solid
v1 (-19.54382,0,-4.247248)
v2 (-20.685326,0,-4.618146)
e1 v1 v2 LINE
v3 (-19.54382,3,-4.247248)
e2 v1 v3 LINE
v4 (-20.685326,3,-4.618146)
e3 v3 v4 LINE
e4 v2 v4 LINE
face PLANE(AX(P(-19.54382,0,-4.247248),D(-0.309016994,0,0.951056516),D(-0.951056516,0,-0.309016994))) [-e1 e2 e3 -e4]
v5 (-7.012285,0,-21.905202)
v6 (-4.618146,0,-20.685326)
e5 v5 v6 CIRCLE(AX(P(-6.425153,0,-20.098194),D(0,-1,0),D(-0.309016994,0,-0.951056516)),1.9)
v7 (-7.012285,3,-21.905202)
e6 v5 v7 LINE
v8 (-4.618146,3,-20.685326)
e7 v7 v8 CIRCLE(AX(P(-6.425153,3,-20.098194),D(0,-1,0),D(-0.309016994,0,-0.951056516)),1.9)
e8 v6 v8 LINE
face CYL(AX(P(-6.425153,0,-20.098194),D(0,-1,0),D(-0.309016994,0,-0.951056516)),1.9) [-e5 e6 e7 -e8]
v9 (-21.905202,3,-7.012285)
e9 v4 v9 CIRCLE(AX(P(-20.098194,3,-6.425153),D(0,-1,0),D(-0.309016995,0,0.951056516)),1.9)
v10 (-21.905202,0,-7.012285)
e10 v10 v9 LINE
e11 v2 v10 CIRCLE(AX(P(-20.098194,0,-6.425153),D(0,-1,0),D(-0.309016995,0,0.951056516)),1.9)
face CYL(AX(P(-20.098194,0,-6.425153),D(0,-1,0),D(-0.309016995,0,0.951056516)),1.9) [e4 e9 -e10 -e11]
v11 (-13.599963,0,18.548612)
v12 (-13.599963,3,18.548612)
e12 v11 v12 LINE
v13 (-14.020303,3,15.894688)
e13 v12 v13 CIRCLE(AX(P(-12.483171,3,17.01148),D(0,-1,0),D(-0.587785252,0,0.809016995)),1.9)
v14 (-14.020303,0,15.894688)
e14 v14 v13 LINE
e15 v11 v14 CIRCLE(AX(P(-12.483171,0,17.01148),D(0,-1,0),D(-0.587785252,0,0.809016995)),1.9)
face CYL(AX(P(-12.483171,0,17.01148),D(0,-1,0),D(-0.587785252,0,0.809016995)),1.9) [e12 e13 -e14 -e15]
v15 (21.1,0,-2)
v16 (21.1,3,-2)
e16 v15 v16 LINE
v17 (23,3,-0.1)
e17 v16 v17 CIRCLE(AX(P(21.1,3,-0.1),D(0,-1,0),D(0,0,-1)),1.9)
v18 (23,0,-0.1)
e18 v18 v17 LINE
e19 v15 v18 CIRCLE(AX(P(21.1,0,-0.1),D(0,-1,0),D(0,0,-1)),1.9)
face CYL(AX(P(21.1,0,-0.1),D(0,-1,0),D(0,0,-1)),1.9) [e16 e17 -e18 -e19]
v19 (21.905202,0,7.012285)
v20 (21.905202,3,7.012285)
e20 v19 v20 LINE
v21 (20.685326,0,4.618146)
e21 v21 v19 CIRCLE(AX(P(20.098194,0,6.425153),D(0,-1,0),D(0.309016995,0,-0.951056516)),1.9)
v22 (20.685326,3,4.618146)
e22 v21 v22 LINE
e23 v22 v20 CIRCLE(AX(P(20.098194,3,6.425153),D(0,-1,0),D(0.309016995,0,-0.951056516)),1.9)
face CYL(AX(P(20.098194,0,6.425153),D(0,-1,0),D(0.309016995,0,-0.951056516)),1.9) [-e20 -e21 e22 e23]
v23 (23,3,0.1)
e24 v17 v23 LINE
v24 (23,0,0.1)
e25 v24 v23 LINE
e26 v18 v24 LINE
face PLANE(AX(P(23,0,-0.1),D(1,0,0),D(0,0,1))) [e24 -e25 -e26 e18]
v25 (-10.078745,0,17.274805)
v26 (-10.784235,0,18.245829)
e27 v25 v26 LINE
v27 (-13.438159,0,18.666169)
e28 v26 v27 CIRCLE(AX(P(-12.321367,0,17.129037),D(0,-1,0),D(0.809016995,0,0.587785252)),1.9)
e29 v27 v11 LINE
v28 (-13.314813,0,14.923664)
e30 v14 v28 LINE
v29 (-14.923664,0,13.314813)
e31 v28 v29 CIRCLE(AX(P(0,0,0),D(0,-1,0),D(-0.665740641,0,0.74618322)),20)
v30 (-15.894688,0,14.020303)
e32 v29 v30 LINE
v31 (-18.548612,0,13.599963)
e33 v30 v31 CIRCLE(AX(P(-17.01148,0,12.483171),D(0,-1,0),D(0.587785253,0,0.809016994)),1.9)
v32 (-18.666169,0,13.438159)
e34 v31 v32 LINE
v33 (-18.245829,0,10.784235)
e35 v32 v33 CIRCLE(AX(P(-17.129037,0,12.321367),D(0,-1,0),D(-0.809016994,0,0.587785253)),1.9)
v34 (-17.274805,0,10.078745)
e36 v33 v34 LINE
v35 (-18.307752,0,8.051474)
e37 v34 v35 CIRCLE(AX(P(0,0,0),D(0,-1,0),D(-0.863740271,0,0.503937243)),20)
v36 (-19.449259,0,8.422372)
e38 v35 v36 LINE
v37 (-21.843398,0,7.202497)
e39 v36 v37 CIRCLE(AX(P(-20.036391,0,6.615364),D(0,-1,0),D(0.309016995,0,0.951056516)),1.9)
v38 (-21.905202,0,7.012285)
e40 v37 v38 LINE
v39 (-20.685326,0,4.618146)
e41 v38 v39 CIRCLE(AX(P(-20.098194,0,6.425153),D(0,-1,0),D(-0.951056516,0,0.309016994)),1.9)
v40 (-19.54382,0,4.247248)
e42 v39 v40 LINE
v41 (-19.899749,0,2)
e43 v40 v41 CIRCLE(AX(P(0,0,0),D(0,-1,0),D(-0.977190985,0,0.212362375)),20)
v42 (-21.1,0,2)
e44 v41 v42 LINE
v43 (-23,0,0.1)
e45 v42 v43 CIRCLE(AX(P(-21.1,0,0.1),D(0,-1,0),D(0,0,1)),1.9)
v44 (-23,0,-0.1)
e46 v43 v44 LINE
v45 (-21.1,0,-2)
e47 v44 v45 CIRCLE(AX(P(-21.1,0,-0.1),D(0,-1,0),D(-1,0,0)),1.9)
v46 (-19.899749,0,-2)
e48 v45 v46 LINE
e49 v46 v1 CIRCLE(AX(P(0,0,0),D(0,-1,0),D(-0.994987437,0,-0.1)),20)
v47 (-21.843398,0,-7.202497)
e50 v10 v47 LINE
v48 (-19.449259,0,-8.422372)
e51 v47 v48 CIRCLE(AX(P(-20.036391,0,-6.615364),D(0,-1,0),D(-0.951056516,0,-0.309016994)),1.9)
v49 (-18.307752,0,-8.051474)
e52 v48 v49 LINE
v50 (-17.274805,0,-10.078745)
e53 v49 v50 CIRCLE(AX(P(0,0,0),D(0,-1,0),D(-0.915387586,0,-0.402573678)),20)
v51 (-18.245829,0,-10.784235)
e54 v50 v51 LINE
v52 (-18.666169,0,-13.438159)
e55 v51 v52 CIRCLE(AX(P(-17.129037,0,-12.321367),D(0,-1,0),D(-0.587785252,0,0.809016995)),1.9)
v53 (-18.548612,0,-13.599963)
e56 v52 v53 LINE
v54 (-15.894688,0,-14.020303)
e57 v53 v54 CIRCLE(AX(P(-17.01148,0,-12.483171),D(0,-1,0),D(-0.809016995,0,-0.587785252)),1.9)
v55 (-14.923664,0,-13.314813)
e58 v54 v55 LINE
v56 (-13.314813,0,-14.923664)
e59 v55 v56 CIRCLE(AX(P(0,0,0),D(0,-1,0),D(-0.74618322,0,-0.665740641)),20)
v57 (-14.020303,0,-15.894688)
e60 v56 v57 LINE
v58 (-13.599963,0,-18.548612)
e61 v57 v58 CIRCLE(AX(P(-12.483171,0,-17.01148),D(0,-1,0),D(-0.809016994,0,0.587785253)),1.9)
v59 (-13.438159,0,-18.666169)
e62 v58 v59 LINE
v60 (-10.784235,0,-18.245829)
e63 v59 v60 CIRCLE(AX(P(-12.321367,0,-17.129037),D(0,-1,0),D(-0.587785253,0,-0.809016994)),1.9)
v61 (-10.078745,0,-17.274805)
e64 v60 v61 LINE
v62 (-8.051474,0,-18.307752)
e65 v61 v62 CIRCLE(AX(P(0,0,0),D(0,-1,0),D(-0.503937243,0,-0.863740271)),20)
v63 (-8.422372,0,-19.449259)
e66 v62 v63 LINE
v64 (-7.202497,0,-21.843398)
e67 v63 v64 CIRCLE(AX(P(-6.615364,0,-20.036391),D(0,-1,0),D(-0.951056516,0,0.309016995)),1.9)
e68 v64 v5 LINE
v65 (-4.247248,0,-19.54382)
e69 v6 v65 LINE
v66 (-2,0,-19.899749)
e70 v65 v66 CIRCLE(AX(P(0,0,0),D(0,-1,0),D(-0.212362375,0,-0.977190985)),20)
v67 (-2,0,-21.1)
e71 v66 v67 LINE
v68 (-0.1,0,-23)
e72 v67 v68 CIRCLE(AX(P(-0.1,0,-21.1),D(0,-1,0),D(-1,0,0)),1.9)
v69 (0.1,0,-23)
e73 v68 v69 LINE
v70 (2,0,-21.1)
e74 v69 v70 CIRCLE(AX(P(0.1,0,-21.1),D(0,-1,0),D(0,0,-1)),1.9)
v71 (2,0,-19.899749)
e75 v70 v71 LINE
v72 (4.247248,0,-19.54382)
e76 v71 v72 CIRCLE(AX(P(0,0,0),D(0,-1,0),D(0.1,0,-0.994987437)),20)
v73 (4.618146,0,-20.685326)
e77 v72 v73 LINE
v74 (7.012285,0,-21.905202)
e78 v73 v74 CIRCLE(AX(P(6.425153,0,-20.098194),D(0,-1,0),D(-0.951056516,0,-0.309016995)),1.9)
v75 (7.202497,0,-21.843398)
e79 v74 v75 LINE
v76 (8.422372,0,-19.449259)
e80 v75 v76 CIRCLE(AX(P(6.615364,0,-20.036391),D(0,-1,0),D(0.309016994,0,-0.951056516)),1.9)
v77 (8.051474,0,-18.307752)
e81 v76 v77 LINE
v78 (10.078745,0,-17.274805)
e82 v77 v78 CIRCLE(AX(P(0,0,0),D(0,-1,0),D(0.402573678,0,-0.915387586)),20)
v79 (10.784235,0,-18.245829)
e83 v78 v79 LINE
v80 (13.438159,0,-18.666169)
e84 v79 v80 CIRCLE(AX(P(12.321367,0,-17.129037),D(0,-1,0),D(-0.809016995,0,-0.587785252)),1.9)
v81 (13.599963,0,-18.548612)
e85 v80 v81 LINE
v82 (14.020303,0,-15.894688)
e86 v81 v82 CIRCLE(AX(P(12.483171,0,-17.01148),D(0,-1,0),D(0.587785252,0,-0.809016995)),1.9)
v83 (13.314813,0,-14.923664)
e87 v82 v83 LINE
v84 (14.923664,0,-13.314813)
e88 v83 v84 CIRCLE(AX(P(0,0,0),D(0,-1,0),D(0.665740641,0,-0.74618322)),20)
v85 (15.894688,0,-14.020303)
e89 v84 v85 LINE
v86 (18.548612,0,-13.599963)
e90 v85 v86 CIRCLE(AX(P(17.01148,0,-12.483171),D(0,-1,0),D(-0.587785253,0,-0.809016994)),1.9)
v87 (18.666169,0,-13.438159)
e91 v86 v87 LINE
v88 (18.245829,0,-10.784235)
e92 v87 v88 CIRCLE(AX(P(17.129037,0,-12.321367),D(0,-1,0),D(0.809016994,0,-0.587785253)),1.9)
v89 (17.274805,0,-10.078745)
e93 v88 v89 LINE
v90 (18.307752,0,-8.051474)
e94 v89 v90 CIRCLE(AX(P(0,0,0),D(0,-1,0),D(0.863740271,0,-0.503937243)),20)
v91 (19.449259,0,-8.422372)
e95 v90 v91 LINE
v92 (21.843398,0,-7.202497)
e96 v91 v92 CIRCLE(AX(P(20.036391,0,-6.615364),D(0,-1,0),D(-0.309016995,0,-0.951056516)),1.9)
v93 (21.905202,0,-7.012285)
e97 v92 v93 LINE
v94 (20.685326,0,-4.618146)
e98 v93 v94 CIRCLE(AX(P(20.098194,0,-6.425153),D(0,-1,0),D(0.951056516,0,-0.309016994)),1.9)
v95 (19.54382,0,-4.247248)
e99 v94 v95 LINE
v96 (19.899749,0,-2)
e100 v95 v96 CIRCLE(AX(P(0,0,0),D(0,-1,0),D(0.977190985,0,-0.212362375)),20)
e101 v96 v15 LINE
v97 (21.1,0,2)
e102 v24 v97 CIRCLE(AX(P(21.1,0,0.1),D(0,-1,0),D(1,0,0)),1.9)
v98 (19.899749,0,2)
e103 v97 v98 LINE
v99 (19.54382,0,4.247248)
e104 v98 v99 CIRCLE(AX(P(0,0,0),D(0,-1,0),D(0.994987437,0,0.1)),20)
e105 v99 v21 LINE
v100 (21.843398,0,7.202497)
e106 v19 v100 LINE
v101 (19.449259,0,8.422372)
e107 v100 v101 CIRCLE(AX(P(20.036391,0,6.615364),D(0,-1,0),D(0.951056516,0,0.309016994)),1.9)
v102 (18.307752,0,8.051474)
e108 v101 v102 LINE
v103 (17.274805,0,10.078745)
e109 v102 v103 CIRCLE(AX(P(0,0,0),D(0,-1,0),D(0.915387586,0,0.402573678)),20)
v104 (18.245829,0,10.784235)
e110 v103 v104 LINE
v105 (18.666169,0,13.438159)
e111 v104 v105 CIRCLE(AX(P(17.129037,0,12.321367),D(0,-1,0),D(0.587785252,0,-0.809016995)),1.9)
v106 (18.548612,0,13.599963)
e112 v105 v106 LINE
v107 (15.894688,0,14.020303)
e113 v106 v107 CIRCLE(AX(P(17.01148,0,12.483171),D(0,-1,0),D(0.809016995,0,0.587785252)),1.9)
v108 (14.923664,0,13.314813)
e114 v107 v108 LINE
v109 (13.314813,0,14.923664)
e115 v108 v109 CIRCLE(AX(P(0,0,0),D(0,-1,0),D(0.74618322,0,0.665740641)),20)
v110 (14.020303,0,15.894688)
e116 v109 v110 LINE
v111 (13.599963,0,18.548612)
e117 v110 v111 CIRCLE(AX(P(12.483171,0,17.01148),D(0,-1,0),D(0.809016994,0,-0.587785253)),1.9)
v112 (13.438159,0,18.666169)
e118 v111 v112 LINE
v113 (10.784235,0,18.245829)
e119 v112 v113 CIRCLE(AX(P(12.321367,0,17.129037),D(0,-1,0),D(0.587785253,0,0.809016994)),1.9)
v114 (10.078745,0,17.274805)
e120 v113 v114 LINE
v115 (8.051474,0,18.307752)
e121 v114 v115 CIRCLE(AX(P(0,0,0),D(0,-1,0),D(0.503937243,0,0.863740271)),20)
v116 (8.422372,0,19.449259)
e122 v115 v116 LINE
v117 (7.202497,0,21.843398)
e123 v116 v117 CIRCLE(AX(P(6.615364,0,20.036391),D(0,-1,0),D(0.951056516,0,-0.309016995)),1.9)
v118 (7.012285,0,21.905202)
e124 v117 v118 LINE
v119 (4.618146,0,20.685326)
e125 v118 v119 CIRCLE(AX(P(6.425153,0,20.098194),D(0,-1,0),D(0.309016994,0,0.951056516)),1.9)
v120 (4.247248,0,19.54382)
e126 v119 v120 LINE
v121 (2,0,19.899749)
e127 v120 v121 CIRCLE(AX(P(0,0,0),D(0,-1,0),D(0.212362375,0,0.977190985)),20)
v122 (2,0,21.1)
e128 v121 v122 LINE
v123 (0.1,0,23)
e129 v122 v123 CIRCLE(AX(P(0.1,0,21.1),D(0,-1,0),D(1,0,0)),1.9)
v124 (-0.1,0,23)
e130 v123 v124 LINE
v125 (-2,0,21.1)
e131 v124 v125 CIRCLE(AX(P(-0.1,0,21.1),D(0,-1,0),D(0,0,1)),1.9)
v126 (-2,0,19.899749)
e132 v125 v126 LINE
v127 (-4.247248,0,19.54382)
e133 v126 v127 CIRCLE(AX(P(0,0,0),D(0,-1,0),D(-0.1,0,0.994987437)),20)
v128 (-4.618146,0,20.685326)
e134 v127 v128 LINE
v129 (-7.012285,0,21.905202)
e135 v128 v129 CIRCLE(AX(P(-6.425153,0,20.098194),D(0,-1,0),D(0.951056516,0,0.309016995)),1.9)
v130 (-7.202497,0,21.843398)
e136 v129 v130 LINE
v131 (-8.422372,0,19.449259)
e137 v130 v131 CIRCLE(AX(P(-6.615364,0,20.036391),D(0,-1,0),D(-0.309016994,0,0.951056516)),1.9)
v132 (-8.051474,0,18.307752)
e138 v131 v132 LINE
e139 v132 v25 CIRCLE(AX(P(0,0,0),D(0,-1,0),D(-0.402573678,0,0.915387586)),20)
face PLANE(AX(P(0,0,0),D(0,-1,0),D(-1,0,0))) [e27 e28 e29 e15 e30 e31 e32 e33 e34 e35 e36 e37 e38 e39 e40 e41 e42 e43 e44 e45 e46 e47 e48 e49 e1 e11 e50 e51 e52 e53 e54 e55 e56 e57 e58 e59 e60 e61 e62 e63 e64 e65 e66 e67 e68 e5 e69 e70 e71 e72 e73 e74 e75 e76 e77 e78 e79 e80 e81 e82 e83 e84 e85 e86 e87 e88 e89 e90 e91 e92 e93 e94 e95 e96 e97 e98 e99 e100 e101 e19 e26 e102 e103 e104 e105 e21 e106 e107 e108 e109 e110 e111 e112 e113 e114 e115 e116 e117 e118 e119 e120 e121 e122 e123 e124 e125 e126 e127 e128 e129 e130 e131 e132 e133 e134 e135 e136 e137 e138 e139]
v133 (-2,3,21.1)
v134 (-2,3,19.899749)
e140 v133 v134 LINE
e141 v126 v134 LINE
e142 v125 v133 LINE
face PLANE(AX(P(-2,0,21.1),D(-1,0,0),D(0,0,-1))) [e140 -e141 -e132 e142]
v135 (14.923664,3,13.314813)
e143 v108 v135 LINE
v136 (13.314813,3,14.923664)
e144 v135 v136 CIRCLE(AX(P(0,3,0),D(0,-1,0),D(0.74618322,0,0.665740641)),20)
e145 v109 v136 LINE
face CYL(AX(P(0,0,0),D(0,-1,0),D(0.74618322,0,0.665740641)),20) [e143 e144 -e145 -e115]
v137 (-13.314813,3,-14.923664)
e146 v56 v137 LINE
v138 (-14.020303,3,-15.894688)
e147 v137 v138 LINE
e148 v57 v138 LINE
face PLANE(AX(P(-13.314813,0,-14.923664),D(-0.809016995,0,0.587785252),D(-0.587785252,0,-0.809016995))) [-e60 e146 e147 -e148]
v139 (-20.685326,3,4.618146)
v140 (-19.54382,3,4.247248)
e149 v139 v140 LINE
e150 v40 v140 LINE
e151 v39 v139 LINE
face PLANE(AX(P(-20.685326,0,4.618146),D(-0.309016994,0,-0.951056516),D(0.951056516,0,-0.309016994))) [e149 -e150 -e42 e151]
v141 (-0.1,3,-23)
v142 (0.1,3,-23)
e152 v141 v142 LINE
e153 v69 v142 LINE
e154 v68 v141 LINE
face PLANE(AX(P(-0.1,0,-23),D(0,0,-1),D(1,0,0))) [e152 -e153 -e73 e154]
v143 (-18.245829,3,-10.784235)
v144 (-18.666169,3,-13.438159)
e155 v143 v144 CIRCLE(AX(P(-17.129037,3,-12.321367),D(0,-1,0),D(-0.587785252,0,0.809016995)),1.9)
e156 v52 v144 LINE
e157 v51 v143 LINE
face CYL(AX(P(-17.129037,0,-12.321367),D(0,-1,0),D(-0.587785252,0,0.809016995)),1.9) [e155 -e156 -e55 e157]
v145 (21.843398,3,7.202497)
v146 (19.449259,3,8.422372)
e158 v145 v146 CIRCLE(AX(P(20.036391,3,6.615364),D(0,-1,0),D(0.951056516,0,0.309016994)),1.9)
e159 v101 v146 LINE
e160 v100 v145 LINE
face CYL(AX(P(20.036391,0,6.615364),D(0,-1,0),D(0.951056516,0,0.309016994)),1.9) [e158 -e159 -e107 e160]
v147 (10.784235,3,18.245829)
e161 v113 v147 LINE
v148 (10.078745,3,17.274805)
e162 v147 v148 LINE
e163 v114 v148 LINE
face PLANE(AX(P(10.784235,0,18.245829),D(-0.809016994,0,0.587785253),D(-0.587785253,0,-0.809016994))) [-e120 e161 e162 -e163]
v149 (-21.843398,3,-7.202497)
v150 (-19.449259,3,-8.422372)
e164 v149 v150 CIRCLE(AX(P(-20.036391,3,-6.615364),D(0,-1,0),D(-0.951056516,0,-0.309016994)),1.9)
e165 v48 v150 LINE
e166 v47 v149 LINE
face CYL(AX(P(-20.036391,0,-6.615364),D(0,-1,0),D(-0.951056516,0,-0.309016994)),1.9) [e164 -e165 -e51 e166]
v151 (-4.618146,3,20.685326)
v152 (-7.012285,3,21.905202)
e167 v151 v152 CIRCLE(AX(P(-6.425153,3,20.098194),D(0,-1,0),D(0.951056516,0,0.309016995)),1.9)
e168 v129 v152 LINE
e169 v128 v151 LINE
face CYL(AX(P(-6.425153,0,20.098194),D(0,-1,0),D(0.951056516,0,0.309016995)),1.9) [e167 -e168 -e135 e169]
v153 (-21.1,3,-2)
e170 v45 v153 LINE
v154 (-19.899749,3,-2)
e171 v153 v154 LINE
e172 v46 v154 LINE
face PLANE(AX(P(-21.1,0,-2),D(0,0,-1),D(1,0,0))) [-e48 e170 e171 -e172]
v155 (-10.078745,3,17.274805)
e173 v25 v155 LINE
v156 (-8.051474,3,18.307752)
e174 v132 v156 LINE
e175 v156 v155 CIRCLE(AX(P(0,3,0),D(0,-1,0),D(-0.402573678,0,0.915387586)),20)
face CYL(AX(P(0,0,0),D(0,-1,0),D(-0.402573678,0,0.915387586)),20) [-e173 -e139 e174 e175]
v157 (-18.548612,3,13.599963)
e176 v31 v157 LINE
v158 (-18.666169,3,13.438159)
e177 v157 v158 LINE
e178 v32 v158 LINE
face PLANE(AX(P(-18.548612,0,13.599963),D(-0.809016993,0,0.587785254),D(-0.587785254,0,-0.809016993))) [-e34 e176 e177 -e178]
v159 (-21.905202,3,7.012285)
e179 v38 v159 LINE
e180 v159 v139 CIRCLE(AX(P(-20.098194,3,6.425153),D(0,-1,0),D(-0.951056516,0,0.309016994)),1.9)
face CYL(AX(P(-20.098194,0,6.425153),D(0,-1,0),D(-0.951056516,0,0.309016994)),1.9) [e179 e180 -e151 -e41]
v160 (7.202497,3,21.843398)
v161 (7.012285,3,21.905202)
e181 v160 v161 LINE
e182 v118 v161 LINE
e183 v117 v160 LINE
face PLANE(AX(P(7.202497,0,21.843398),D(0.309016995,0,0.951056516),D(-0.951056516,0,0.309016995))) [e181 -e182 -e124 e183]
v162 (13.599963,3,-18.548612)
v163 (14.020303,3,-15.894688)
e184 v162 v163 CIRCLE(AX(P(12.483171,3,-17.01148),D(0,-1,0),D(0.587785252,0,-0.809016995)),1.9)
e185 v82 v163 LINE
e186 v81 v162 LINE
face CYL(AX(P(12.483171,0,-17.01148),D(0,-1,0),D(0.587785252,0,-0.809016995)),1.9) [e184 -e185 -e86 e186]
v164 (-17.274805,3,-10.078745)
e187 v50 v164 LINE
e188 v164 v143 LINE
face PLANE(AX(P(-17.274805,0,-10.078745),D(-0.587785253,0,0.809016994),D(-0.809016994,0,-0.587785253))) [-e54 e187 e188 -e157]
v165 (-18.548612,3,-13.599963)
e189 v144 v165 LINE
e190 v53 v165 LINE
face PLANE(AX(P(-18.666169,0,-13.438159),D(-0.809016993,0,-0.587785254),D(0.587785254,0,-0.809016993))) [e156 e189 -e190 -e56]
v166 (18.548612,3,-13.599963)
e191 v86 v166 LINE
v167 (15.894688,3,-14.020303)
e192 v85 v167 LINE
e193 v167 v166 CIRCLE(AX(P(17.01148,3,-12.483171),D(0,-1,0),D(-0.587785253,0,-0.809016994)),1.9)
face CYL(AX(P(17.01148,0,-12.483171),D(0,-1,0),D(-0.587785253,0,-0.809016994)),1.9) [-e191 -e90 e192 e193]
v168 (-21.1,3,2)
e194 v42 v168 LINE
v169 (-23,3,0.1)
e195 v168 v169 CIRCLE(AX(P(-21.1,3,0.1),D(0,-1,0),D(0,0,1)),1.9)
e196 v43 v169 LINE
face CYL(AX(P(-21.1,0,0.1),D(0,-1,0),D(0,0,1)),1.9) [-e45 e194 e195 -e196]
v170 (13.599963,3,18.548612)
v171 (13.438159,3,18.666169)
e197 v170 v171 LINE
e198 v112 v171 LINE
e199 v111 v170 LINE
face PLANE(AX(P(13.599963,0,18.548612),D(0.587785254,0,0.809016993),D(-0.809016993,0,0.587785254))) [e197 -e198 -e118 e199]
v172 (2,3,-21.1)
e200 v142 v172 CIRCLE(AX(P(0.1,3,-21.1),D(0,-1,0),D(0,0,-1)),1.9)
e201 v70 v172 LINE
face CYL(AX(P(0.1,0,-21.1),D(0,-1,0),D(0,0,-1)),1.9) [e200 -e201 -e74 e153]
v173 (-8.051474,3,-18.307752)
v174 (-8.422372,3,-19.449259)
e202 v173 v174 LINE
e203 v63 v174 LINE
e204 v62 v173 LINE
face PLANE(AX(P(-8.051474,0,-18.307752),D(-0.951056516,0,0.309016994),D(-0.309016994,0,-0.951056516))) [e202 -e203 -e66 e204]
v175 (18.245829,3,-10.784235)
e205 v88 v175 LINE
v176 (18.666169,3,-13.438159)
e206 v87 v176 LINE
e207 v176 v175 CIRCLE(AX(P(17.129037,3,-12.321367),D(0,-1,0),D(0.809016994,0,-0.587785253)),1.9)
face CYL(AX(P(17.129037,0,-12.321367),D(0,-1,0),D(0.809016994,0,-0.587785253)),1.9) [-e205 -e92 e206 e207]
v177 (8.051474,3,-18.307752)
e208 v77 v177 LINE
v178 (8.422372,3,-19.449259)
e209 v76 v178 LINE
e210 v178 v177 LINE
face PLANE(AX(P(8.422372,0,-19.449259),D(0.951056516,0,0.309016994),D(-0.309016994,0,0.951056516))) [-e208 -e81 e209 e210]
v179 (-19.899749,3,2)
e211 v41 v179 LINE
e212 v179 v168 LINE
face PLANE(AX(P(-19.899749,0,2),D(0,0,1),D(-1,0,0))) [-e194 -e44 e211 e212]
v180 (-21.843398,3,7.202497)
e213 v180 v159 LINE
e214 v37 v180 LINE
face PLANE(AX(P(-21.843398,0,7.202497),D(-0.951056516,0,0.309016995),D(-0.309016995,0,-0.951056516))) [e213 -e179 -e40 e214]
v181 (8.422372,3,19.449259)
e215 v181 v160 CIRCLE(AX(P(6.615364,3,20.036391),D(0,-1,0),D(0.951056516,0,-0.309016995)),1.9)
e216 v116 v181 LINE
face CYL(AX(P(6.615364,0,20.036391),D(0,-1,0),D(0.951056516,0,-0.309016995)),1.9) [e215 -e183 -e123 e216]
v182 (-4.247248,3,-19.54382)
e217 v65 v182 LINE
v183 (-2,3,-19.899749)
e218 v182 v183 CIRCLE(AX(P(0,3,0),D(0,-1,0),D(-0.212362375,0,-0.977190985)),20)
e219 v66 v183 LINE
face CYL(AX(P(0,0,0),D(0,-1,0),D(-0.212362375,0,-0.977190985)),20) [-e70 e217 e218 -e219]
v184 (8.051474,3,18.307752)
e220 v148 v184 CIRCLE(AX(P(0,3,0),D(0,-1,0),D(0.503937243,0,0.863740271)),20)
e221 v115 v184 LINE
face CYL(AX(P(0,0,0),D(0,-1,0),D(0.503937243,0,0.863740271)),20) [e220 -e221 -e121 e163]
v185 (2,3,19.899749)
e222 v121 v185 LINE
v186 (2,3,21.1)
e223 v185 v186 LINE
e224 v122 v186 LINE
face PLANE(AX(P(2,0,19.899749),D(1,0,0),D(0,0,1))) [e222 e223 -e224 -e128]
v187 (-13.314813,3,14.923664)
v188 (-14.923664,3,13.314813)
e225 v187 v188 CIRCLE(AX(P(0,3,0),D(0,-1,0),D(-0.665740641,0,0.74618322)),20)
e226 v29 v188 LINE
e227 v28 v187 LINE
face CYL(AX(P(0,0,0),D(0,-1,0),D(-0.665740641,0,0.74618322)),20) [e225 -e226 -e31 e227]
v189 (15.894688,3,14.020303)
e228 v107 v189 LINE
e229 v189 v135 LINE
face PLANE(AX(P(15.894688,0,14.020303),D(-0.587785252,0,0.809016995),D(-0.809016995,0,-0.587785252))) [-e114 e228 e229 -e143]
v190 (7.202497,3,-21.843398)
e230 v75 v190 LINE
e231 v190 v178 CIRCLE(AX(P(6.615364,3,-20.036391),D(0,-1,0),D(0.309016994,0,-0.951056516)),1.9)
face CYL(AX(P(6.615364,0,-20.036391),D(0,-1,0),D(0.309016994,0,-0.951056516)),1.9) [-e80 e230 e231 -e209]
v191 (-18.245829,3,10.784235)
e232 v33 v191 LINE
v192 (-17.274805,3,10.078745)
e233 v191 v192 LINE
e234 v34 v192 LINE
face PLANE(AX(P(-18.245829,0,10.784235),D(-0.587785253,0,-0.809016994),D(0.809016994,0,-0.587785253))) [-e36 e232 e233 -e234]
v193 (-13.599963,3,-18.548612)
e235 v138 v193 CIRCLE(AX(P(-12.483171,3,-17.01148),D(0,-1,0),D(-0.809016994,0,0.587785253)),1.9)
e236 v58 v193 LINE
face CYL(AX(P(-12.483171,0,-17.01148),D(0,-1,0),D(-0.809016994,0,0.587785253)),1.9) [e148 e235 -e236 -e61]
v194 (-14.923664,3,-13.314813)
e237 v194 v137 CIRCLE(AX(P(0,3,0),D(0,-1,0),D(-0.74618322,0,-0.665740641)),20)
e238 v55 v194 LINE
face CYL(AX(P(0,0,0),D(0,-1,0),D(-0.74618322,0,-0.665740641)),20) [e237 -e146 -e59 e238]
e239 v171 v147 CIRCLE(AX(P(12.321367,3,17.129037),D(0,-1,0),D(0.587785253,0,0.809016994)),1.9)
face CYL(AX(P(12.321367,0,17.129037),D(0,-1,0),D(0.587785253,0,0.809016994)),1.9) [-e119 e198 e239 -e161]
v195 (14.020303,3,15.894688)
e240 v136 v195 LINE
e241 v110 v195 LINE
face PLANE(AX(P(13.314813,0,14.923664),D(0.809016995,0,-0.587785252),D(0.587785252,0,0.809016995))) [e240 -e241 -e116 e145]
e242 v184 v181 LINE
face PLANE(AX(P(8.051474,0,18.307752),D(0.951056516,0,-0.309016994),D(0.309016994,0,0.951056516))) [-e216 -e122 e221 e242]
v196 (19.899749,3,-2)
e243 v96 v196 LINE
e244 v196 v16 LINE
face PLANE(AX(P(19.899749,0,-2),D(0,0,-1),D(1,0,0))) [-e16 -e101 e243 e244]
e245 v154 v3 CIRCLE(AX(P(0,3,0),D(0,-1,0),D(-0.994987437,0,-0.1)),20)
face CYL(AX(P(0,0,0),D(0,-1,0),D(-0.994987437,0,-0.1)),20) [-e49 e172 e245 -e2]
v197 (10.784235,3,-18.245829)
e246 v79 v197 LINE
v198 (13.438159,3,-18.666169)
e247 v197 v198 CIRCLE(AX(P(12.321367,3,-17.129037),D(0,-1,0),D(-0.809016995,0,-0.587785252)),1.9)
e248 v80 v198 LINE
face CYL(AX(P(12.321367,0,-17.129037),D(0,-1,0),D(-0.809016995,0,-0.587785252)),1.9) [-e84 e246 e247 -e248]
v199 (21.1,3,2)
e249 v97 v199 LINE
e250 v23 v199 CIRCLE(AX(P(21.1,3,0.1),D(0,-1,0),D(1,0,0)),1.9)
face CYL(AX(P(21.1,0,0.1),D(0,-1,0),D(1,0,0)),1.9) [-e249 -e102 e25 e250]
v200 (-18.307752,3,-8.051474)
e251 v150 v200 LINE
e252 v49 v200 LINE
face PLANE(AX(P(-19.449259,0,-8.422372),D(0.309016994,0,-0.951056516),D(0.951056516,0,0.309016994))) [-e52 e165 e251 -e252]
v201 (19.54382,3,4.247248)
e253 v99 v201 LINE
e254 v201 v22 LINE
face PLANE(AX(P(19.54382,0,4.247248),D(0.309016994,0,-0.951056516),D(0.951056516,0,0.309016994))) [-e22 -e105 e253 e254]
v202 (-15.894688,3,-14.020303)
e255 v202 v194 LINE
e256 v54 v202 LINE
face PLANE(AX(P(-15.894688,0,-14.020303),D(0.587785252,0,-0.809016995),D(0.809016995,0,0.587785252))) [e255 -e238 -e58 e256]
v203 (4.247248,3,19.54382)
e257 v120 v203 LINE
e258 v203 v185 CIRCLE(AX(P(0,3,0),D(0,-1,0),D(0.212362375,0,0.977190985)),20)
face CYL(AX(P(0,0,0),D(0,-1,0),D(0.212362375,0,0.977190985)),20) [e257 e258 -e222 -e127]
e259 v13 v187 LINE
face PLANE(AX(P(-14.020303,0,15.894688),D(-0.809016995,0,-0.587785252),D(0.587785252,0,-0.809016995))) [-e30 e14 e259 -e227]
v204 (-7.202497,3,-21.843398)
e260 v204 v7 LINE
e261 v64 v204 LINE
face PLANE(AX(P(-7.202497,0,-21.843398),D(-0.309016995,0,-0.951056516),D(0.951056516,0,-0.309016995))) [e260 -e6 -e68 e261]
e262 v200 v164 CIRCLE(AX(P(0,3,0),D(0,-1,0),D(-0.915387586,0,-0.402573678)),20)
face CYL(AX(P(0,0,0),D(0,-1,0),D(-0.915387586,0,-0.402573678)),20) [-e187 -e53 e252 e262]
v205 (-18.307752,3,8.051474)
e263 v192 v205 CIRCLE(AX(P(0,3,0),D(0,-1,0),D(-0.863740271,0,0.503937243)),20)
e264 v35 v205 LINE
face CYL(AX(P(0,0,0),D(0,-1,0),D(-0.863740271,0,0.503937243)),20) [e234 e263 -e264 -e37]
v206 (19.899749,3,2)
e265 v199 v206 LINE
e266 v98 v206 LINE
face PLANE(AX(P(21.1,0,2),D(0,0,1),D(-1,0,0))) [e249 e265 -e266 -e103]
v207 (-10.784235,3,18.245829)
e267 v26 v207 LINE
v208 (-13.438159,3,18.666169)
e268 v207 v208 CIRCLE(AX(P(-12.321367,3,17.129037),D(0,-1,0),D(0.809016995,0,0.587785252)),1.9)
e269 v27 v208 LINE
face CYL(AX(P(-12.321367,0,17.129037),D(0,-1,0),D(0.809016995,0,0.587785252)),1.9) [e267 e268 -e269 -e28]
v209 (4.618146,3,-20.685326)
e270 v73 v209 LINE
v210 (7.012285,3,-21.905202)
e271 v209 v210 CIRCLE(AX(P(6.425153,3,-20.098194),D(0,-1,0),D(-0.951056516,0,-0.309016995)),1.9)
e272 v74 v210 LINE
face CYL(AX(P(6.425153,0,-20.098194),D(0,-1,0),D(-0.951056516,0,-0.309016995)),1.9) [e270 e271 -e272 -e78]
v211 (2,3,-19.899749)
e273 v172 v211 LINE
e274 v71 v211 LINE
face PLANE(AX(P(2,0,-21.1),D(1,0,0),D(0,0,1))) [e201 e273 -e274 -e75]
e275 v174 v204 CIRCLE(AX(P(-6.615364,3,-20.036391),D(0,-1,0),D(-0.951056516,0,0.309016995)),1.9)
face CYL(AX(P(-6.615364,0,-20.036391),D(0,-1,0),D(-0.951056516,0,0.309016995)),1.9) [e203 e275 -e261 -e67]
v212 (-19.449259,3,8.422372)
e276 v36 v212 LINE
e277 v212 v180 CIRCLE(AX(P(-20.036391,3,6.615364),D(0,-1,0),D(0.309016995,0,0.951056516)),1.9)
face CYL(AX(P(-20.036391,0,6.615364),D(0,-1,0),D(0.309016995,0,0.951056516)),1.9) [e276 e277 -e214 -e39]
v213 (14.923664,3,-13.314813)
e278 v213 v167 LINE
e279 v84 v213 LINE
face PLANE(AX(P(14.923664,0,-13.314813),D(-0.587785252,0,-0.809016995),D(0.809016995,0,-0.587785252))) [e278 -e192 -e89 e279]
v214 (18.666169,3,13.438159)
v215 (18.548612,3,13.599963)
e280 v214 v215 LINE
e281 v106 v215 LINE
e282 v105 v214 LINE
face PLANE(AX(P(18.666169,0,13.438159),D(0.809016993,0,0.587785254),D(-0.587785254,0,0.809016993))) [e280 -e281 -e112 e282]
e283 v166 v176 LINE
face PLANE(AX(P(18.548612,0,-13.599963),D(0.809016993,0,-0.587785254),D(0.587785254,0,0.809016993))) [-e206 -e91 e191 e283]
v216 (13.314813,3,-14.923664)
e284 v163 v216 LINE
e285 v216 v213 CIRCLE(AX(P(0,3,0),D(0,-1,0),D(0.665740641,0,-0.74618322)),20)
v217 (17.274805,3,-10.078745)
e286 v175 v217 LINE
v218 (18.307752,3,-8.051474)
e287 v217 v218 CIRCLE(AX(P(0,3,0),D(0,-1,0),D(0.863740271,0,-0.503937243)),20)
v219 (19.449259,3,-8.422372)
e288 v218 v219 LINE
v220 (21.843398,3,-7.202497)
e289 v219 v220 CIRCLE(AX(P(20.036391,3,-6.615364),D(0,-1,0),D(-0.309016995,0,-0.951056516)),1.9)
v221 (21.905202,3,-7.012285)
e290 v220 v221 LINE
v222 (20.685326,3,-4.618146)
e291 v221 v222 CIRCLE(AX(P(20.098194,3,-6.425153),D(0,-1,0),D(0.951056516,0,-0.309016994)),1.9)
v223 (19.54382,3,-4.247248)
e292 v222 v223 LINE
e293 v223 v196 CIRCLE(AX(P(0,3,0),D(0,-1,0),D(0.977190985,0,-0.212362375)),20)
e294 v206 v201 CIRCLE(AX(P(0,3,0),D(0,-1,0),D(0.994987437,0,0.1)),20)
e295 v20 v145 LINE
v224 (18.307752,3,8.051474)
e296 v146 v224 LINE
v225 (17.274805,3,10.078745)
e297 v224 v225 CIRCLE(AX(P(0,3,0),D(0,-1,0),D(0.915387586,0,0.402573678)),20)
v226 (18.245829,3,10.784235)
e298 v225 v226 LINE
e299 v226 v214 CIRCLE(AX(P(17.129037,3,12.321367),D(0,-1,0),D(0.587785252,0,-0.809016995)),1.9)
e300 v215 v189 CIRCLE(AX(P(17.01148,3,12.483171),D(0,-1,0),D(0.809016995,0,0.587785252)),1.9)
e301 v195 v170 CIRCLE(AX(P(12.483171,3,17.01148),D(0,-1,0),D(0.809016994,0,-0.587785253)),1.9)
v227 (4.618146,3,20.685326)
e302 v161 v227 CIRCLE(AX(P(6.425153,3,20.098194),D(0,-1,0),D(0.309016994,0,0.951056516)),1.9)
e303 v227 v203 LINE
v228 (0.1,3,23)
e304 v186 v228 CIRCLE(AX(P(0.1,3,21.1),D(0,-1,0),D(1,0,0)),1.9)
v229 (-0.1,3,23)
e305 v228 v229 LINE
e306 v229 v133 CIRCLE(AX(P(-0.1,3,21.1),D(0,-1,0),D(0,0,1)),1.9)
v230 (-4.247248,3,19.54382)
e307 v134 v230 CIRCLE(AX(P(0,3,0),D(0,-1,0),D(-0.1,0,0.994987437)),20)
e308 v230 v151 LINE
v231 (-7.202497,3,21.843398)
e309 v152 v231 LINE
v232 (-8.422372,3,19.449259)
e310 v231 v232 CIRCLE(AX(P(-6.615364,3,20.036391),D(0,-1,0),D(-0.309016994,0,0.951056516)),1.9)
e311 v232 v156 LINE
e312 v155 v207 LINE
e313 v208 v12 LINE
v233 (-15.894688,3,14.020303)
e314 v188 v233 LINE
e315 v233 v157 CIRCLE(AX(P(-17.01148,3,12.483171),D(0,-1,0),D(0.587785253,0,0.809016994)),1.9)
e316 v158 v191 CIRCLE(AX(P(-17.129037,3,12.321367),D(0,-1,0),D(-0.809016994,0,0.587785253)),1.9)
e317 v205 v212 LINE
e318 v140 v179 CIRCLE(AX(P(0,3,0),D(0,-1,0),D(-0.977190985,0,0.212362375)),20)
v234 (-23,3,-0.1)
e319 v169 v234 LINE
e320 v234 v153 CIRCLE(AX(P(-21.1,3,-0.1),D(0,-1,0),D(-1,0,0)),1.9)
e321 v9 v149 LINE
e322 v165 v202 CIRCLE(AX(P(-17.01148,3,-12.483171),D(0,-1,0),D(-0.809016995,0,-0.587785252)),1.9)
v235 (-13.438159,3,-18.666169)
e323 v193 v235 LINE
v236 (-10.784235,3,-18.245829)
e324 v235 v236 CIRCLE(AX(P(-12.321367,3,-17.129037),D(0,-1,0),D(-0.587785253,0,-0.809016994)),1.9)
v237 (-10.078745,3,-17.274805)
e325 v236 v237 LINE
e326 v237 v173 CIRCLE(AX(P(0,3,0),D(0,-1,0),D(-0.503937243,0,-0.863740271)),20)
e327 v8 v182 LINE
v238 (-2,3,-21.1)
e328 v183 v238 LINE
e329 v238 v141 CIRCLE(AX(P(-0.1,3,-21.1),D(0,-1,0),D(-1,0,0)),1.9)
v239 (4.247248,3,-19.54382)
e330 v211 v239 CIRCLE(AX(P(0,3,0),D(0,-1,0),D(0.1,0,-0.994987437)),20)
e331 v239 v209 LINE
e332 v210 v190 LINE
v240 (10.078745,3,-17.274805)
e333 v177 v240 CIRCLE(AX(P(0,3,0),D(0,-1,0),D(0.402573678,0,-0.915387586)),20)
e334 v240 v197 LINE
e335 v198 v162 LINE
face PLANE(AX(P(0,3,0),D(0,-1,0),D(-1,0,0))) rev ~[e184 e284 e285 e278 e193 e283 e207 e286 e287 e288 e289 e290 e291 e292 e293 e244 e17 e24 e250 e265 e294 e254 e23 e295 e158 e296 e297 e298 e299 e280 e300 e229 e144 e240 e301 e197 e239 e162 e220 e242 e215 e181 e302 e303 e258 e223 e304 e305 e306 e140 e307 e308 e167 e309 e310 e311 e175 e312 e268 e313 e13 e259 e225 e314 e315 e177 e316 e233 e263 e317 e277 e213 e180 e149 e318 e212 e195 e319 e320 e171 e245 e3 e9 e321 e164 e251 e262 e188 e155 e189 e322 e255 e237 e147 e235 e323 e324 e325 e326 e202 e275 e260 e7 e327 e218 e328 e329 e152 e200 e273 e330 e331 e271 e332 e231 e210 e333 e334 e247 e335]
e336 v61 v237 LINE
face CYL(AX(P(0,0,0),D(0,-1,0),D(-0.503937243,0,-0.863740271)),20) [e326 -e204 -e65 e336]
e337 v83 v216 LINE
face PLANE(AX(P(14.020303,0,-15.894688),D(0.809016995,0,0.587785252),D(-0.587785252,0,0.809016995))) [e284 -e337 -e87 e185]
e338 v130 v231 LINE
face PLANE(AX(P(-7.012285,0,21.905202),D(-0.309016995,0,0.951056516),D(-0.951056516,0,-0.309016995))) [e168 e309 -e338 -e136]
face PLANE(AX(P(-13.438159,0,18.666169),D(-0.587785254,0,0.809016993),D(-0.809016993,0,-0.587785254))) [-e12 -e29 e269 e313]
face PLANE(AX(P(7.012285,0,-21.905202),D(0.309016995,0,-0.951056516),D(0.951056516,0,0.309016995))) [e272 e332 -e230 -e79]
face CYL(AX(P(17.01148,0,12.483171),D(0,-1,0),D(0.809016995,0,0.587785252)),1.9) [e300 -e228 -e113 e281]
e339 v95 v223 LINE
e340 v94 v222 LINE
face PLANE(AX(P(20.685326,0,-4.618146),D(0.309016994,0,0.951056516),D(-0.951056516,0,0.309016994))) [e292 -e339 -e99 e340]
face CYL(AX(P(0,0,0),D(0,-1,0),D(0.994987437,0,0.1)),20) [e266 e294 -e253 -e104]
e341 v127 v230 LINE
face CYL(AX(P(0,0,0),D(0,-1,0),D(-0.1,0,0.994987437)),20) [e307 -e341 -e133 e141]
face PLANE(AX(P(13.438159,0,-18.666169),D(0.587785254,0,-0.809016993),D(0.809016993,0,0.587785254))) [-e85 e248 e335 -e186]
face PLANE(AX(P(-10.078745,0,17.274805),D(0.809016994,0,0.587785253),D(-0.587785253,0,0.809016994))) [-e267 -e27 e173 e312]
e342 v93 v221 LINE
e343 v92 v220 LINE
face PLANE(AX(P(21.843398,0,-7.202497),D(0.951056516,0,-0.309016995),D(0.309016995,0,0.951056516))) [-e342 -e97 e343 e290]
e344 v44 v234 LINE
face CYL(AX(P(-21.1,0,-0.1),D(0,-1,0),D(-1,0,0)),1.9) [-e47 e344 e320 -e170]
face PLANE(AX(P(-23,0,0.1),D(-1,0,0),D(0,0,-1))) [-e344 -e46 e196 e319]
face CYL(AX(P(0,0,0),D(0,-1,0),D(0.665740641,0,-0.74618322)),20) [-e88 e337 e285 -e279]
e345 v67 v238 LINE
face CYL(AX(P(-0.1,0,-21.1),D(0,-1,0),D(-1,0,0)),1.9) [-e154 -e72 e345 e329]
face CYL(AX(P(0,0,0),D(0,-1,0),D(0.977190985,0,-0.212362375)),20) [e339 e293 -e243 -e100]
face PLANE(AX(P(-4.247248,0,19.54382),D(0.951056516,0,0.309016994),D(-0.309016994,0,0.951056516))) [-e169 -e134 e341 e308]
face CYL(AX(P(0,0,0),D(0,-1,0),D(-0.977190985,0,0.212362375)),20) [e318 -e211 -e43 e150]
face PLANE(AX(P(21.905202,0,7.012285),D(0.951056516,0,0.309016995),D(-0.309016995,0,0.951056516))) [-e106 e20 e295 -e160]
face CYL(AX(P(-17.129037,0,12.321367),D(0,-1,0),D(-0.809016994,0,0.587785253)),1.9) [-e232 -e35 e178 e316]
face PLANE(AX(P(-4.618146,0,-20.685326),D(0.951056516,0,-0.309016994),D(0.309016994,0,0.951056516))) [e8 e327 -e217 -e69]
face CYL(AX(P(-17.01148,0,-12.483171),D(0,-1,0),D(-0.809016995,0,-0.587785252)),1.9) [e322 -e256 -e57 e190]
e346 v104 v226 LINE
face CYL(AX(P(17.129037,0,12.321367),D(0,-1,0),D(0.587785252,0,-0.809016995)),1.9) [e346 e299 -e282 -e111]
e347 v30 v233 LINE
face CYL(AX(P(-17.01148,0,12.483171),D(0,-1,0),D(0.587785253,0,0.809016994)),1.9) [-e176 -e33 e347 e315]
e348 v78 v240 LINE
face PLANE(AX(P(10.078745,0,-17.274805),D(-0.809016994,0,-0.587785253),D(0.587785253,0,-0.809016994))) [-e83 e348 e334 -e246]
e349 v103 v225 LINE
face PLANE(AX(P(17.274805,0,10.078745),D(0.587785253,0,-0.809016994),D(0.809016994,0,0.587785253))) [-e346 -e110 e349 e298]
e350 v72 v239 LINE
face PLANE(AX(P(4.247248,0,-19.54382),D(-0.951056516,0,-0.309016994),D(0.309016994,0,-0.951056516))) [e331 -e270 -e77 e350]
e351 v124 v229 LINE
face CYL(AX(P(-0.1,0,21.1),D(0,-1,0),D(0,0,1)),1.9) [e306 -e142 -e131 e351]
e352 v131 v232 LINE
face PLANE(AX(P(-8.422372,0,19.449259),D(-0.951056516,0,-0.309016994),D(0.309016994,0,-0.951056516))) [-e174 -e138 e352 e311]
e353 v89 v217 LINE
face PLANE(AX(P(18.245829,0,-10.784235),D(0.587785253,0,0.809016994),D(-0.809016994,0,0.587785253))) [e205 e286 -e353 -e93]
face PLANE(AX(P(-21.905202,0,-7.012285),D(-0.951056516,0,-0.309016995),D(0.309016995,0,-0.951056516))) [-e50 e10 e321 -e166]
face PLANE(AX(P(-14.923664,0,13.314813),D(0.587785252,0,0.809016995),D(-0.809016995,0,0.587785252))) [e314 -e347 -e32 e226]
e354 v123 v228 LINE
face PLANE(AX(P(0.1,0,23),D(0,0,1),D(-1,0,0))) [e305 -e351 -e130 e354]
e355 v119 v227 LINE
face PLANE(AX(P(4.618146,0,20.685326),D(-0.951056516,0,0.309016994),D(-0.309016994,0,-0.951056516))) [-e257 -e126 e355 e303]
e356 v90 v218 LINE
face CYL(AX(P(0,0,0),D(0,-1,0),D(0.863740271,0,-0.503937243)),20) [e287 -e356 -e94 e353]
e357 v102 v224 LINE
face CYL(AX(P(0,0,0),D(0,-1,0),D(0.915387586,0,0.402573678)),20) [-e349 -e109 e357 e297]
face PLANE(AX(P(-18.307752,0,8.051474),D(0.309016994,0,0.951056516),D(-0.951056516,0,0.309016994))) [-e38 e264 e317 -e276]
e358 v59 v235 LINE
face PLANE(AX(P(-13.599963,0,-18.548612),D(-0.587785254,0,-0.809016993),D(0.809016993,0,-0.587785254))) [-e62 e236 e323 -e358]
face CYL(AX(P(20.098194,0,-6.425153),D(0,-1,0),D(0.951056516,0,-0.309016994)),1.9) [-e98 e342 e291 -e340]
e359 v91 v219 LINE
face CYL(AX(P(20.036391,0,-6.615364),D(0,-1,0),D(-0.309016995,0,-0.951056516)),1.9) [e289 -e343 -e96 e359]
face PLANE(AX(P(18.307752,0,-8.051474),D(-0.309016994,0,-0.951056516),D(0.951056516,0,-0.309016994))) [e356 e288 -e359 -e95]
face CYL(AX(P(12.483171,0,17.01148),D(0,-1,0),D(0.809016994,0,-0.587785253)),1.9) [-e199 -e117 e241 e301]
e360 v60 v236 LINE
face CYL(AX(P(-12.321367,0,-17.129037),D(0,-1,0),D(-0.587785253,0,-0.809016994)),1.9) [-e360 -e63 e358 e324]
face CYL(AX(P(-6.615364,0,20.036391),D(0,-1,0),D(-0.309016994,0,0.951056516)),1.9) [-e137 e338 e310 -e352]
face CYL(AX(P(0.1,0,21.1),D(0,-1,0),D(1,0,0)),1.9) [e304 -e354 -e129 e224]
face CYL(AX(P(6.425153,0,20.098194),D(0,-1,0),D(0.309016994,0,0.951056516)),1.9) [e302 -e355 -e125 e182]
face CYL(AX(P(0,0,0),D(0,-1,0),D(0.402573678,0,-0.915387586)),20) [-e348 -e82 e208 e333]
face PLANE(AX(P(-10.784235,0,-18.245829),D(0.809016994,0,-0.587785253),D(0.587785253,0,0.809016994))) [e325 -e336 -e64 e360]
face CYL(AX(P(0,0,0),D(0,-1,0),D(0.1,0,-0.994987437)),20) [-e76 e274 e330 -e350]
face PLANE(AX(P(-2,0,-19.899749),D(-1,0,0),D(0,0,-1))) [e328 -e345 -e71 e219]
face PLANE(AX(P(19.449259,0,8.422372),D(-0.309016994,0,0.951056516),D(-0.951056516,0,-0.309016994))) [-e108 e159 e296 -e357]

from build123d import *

# Parameters (mm, degrees)
BOSS_EXTRUDE1_DEPTH = 3
BOSS_EXTRUDE2_DEPTH = 3


with BuildPart() as part:
    # Sketch1 → Boss-Extrude1 (new body)
    with BuildSketch(Plane(origin=(0, 0, 0), x_dir=(1, 0, 0), z_dir=(0, 1, 0))):
        with BuildLine():
            Line((2.5, 1.5), (2.5, 0))
            Line((2.5, 0), (13, 0))
            Line((13, 0), (13, 0.1))
            ThreePointArc((13, 0.1), (12.443502884, 1.443502884), (11.1, 2))
            Line((11.1, 2), (9.797958971, 2))
            ThreePointArc((9.797958971, 2), (9.510565163, 3.090169944), (9.102285822, 4.141061797))
            Line((9.102285822, 4.141061797), (10.155659142, 4.906382312))
            ThreePointArc((10.155659142, 4.906382312), (10.91547501, 6.146289117), (10.575999452, 7.56030658))
            Line((10.575999452, 7.56030658), (10.458442402, 7.722109979))
            ThreePointArc((10.458442402, 7.722109979), (9.218535596, 8.481925847), (7.804518133, 8.142450289))
            Line((7.804518133, 8.142450289), (6.751144813, 7.377129775))
            ThreePointArc((6.751144813, 7.377129775), (5.877852523, 8.090169944), (4.929848865, 8.700378737))
            Line((4.929848865, 8.700378737), (5.33220167, 9.938693342))
            ThreePointArc((5.33220167, 9.938693342), (5.218106685, 11.388407581), (4.112326579, 12.332833012))
            Line((4.112326579, 12.332833012), (3.922115275, 12.394636411))
            ThreePointArc((3.922115275, 12.394636411), (2.472401036, 12.280541426), (1.527975605, 11.17476132))
            Line((1.527975605, 11.17476132), (1.1256228, 9.936446715))
            ThreePointArc((1.1256228, 9.936446715), (0.563707749, 9.984099037), (0, 10))
            Line((0, 10), (0, 1.5))
            Line((0, 1.5), (2.5, 1.5))
        make_face()
        with BuildLine():
            Line((-13, 0), (-2.5, 0))
            Line((-2.5, 0), (-2.5, 1.5))
            Line((-2.5, 1.5), (0, 1.5))
            Line((0, 1.5), (0, 10))
            ThreePointArc((0, 10), (-0.563707749, 9.984099037), (-1.1256228, 9.936446715))
            Line((-1.1256228, 9.936446715), (-1.527975605, 11.17476132))
            ThreePointArc((-1.527975605, 11.17476132), (-2.472401036, 12.280541426), (-3.922115275, 12.394636411))
            Line((-3.922115275, 12.394636411), (-4.112326579, 12.332833012))
            ThreePointArc((-4.112326579, 12.332833012), (-5.218106685, 11.388407581), (-5.33220167, 9.938693342))
            Line((-5.33220167, 9.938693342), (-4.929848865, 8.700378737))
            ThreePointArc((-4.929848865, 8.700378737), (-5.877852523, 8.090169944), (-6.751144813, 7.377129775))
            Line((-6.751144813, 7.377129775), (-7.804518133, 8.142450289))
            ThreePointArc((-7.804518133, 8.142450289), (-9.218535596, 8.481925847), (-10.458442402, 7.722109979))
            Line((-10.458442402, 7.722109979), (-10.575999452, 7.56030658))
            ThreePointArc((-10.575999452, 7.56030658), (-10.91547501, 6.146289117), (-10.155659142, 4.906382312))
            Line((-10.155659142, 4.906382312), (-9.102285822, 4.141061797))
            ThreePointArc((-9.102285822, 4.141061797), (-9.510565163, 3.090169944), (-9.797958971, 2))
            Line((-9.797958971, 2), (-11.1, 2))
            ThreePointArc((-11.1, 2), (-12.443502884, 1.443502884), (-13, 0.1))
            Line((-13, 0.1), (-13, 0))
        make_face()
        with BuildLine():
            ThreePointArc((-1.1256228, -9.936446715), (-0.563707749, -9.984099037), (0, -10))
            Line((0, -10), (0, -1.5))
            Line((0, -1.5), (-2.5, -1.5))
            Line((-2.5, -1.5), (-2.5, 0))
            Line((-2.5, 0), (-13, 0))
            Line((-13, 0), (-13, -0.1))
            ThreePointArc((-13, -0.1), (-12.443502884, -1.443502884), (-11.1, -2))
            Line((-11.1, -2), (-9.797958971, -2))
            ThreePointArc((-9.797958971, -2), (-9.510565163, -3.090169944), (-9.102285822, -4.141061797))
            Line((-9.102285822, -4.141061797), (-10.155659142, -4.906382312))
            ThreePointArc((-10.155659142, -4.906382312), (-10.91547501, -6.146289117), (-10.575999452, -7.56030658))
            Line((-10.575999452, -7.56030658), (-10.458442402, -7.722109979))
            ThreePointArc((-10.458442402, -7.722109979), (-9.218535596, -8.481925847), (-7.804518133, -8.142450289))
            Line((-7.804518133, -8.142450289), (-6.751144813, -7.377129775))
            ThreePointArc((-6.751144813, -7.377129775), (-5.877852523, -8.090169944), (-4.929848865, -8.700378737))
            Line((-4.929848865, -8.700378737), (-5.33220167, -9.938693342))
            ThreePointArc((-5.33220167, -9.938693342), (-5.218106685, -11.388407581), (-4.112326579, -12.332833012))
            Line((-4.112326579, -12.332833012), (-3.922115275, -12.394636411))
            ThreePointArc((-3.922115275, -12.394636411), (-2.472401036, -12.280541426), (-1.527975605, -11.17476132))
            Line((-1.527975605, -11.17476132), (-1.1256228, -9.936446715))
        make_face()
        with BuildLine():
            Line((0, -1.5), (0, -10))
            ThreePointArc((0, -10), (0.563707749, -9.984099037), (1.1256228, -9.936446715))
            Line((1.1256228, -9.936446715), (1.527975605, -11.17476132))
            ThreePointArc((1.527975605, -11.17476132), (2.472401036, -12.280541426), (3.922115275, -12.394636411))
            Line((3.922115275, -12.394636411), (4.112326579, -12.332833012))
            ThreePointArc((4.112326579, -12.332833012), (5.218106685, -11.388407581), (5.33220167, -9.938693342))
            Line((5.33220167, -9.938693342), (4.929848865, -8.700378737))
            ThreePointArc((4.929848865, -8.700378737), (5.877852523, -8.090169944), (6.751144813, -7.377129775))
            Line((6.751144813, -7.377129775), (7.804518133, -8.142450289))
            ThreePointArc((7.804518133, -8.142450289), (9.218535596, -8.481925847), (10.458442402, -7.722109979))
            Line((10.458442402, -7.722109979), (10.575999452, -7.56030658))
            ThreePointArc((10.575999452, -7.56030658), (10.91547501, -6.146289117), (10.155659142, -4.906382312))
            Line((10.155659142, -4.906382312), (9.102285822, -4.141061797))
            ThreePointArc((9.102285822, -4.141061797), (9.510565163, -3.090169944), (9.797958971, -2))
            Line((9.797958971, -2), (11.1, -2))
            ThreePointArc((11.1, -2), (12.443502884, -1.443502884), (13, -0.1))
            Line((13, -0.1), (13, 0))
            Line((13, 0), (2.5, 0))
            Line((2.5, 0), (2.5, -1.5))
            Line((2.5, -1.5), (0, -1.5))
        make_face()
    extrude(amount=BOSS_EXTRUDE1_DEPTH)

    # Sketch2 → Boss-Extrude2 (add)
    with BuildSketch(Plane(origin=(0, 0, 0), x_dir=(1, 0, 0), z_dir=(0, 1, 0))):
        with BuildLine():
            Line((-23, -0.1), (-23, 0.1))
            ThreePointArc((-23, 0.1), (-22.443502884, 1.443502884), (-21.1, 2))
            Line((-21.1, 2), (-19.899748742, 2))
            ThreePointArc((-19.899748742, 2), (-19.753766812, 3.128689301), (-19.543819703, 4.247247513))
            Line((-19.543819703, 4.247247513), (-20.685326483, 4.618145549))
            ThreePointArc((-20.685326483, 4.618145549), (-21.791106589, 5.56257098), (-21.905201574, 7.012285219))
            Line((-21.905201574, 7.012285219), (-21.843398175, 7.202496522))
            ThreePointArc((-21.843398175, 7.202496522), (-20.898972744, 8.308276629), (-19.449258505, 8.422371614))
            Line((-19.449258505, 8.422371614), (-18.307751725, 8.051473578))
            ThreePointArc((-18.307751725, 8.051473578), (-17.820130484, 9.079809995), (-17.274805421, 10.078744846))
            Line((-17.274805421, 10.078744846), (-18.245829086, 10.784234835))
            ThreePointArc((-18.245829086, 10.784234835), (-19.005644954, 12.02414164), (-18.666169396, 13.438159103))
            Line((-18.666169396, 13.438159103), (-18.548612345, 13.599962502))
            ThreePointArc((-18.548612345, 13.599962502), (-17.30870554, 14.35977837), (-15.894688077, 14.020302812))
            Line((-15.894688077, 14.020302812), (-14.923664412, 13.314812824))
            ThreePointArc((-14.923664412, 13.314812824), (-14.142135624, 14.142135624), (-13.314812824, 14.923664412))
            Line((-13.314812824, 14.923664412), (-14.020302812, 15.894688077))
            ThreePointArc((-14.020302812, 15.894688077), (-14.35977837, 17.30870554), (-13.599962502, 18.548612345))
            Line((-13.599962502, 18.548612345), (-13.438159103, 18.666169396))
            ThreePointArc((-13.438159103, 18.666169396), (-12.02414164, 19.005644954), (-10.784234835, 18.245829086))
            Line((-10.784234835, 18.245829086), (-10.078744846, 17.274805421))
            ThreePointArc((-10.078744846, 17.274805421), (-9.079809995, 17.820130484), (-8.051473578, 18.307751725))
            Line((-8.051473578, 18.307751725), (-8.422371614, 19.449258505))
            ThreePointArc((-8.422371614, 19.449258505), (-8.308276629, 20.898972744), (-7.202496522, 21.843398175))
            Line((-7.202496522, 21.843398175), (-7.012285219, 21.905201574))
            ThreePointArc((-7.012285219, 21.905201574), (-5.56257098, 21.791106589), (-4.618145549, 20.685326483))
            Line((-4.618145549, 20.685326483), (-4.247247513, 19.543819703))
            ThreePointArc((-4.247247513, 19.543819703), (-3.128689301, 19.753766812), (-2, 19.899748742))
            Line((-2, 19.899748742), (-2, 21.1))
            ThreePointArc((-2, 21.1), (-1.443502884, 22.443502884), (-0.1, 23))
            Line((-0.1, 23), (0.1, 23))
            ThreePointArc((0.1, 23), (1.443502884, 22.443502884), (2, 21.1))
            Line((2, 21.1), (2, 19.899748742))
            ThreePointArc((2, 19.899748742), (3.128689301, 19.753766812), (4.247247513, 19.543819703))
            Line((4.247247513, 19.543819703), (4.618145549, 20.685326483))
            ThreePointArc((4.618145549, 20.685326483), (5.56257098, 21.791106589), (7.012285219, 21.905201574))
            Line((7.012285219, 21.905201574), (7.202496522, 21.843398175))
            ThreePointArc((7.202496522, 21.843398175), (8.308276629, 20.898972744), (8.422371614, 19.449258505))
            Line((8.422371614, 19.449258505), (8.051473578, 18.307751725))
            ThreePointArc((8.051473578, 18.307751725), (9.079809995, 17.820130484), (10.078744846, 17.274805421))
            Line((10.078744846, 17.274805421), (10.784234835, 18.245829086))
            ThreePointArc((10.784234835, 18.245829086), (12.02414164, 19.005644954), (13.438159103, 18.666169396))
            Line((13.438159103, 18.666169396), (13.599962502, 18.548612345))
            ThreePointArc((13.599962502, 18.548612345), (14.35977837, 17.30870554), (14.020302812, 15.894688077))
            Line((14.020302812, 15.894688077), (13.314812824, 14.923664412))
            ThreePointArc((13.314812824, 14.923664412), (14.142135624, 14.142135624), (14.923664412, 13.314812824))
            Line((14.923664412, 13.314812824), (15.894688077, 14.020302812))
            ThreePointArc((15.894688077, 14.020302812), (17.30870554, 14.35977837), (18.548612345, 13.599962502))
            Line((18.548612345, 13.599962502), (18.666169396, 13.438159103))
            ThreePointArc((18.666169396, 13.438159103), (19.005644954, 12.02414164), (18.245829086, 10.784234835))
            Line((18.245829086, 10.784234835), (17.274805421, 10.078744846))
            ThreePointArc((17.274805421, 10.078744846), (17.820130484, 9.079809995), (18.307751725, 8.051473578))
            Line((18.307751725, 8.051473578), (19.449258505, 8.422371614))
            ThreePointArc((19.449258505, 8.422371614), (20.898972744, 8.308276629), (21.843398175, 7.202496522))
            Line((21.843398175, 7.202496522), (21.905201574, 7.012285219))
            ThreePointArc((21.905201574, 7.012285219), (21.791106589, 5.56257098), (20.685326483, 4.618145549))
            Line((20.685326483, 4.618145549), (19.543819703, 4.247247513))
            ThreePointArc((19.543819703, 4.247247513), (19.753766812, 3.128689301), (19.899748742, 2))
            Line((19.899748742, 2), (21.1, 2))
            ThreePointArc((21.1, 2), (22.443502884, 1.443502884), (23, 0.1))
            Line((23, 0.1), (23, -0.1))
            ThreePointArc((23, -0.1), (22.443502884, -1.443502884), (21.1, -2))
            Line((21.1, -2), (19.899748742, -2))
            ThreePointArc((19.899748742, -2), (19.753766812, -3.128689301), (19.543819703, -4.247247513))
            Line((19.543819703, -4.247247513), (20.685326483, -4.618145549))
            ThreePointArc((20.685326483, -4.618145549), (21.791106589, -5.56257098), (21.905201574, -7.012285219))
            Line((21.905201574, -7.012285219), (21.843398175, -7.202496522))
            ThreePointArc((21.843398175, -7.202496522), (20.898972744, -8.308276629), (19.449258505, -8.422371614))
            Line((19.449258505, -8.422371614), (18.307751725, -8.051473578))
            ThreePointArc((18.307751725, -8.051473578), (17.820130484, -9.079809995), (17.274805421, -10.078744846))
            Line((17.274805421, -10.078744846), (18.245829086, -10.784234835))
            ThreePointArc((18.245829086, -10.784234835), (19.005644954, -12.02414164), (18.666169396, -13.438159103))
            Line((18.666169396, -13.438159103), (18.548612345, -13.599962502))
            ThreePointArc((18.548612345, -13.599962502), (17.30870554, -14.35977837), (15.894688077, -14.020302812))
            Line((15.894688077, -14.020302812), (14.923664412, -13.314812824))
            ThreePointArc((14.923664412, -13.314812824), (14.142135624, -14.142135624), (13.314812824, -14.923664412))
            Line((13.314812824, -14.923664412), (14.020302812, -15.894688077))
            ThreePointArc((14.020302812, -15.894688077), (14.35977837, -17.30870554), (13.599962502, -18.548612345))
            Line((13.599962502, -18.548612345), (13.438159103, -18.666169396))
            ThreePointArc((13.438159103, -18.666169396), (12.02414164, -19.005644954), (10.784234835, -18.245829086))
            Line((10.784234835, -18.245829086), (10.078744846, -17.274805421))
            ThreePointArc((10.078744846, -17.274805421), (9.079809995, -17.820130484), (8.051473578, -18.307751725))
            Line((8.051473578, -18.307751725), (8.422371614, -19.449258505))
            ThreePointArc((8.422371614, -19.449258505), (8.308276629, -20.898972744), (7.202496522, -21.843398175))
            Line((7.202496522, -21.843398175), (7.012285219, -21.905201574))
            ThreePointArc((7.012285219, -21.905201574), (5.56257098, -21.791106589), (4.618145549, -20.685326483))
            Line((4.618145549, -20.685326483), (4.247247513, -19.543819703))
            ThreePointArc((4.247247513, -19.543819703), (3.128689301, -19.753766812), (2, -19.899748742))
            Line((2, -19.899748742), (2, -21.1))
            ThreePointArc((2, -21.1), (1.443502884, -22.443502884), (0.1, -23))
            Line((0.1, -23), (-0.1, -23))
            ThreePointArc((-0.1, -23), (-1.443502884, -22.443502884), (-2, -21.1))
            Line((-2, -21.1), (-2, -19.899748742))
            ThreePointArc((-2, -19.899748742), (-3.128689301, -19.753766812), (-4.247247513, -19.543819703))
            Line((-4.247247513, -19.543819703), (-4.618145549, -20.685326483))
            ThreePointArc((-4.618145549, -20.685326483), (-5.56257098, -21.791106589), (-7.012285219, -21.905201574))
            Line((-7.012285219, -21.905201574), (-7.202496522, -21.843398175))
            ThreePointArc((-7.202496522, -21.843398175), (-8.308276629, -20.898972744), (-8.422371614, -19.449258505))
            Line((-8.422371614, -19.449258505), (-8.051473578, -18.307751725))
            ThreePointArc((-8.051473578, -18.307751725), (-9.079809995, -17.820130484), (-10.078744846, -17.274805421))
            Line((-10.078744846, -17.274805421), (-10.784234835, -18.245829086))
            ThreePointArc((-10.784234835, -18.245829086), (-12.02414164, -19.005644954), (-13.438159103, -18.666169396))
            Line((-13.438159103, -18.666169396), (-13.599962502, -18.548612345))
            ThreePointArc((-13.599962502, -18.548612345), (-14.35977837, -17.30870554), (-14.020302812, -15.894688077))
            Line((-14.020302812, -15.894688077), (-13.314812824, -14.923664412))
            ThreePointArc((-13.314812824, -14.923664412), (-14.142135624, -14.142135624), (-14.923664412, -13.314812824))
            Line((-14.923664412, -13.314812824), (-15.894688077, -14.020302812))
            ThreePointArc((-15.894688077, -14.020302812), (-17.30870554, -14.35977837), (-18.548612345, -13.599962502))
            Line((-18.548612345, -13.599962502), (-18.666169396, -13.438159103))
            ThreePointArc((-18.666169396, -13.438159103), (-19.005644954, -12.02414164), (-18.245829086, -10.784234835))
            Line((-18.245829086, -10.784234835), (-17.274805421, -10.078744846))
            ThreePointArc((-17.274805421, -10.078744846), (-17.820130484, -9.079809995), (-18.307751725, -8.051473578))
            Line((-18.307751725, -8.051473578), (-19.449258505, -8.422371614))
            ThreePointArc((-19.449258505, -8.422371614), (-20.898972744, -8.308276629), (-21.843398175, -7.202496522))
            Line((-21.843398175, -7.202496522), (-21.905201574, -7.012285219))
            ThreePointArc((-21.905201574, -7.012285219), (-21.791106589, -5.56257098), (-20.685326483, -4.618145549))
            Line((-20.685326483, -4.618145549), (-19.543819703, -4.247247513))
            ThreePointArc((-19.543819703, -4.247247513), (-19.753766812, -3.128689301), (-19.899748742, -2))
            Line((-19.899748742, -2), (-21.1, -2))
            ThreePointArc((-21.1, -2), (-22.443502884, -1.443502884), (-23, -0.1))
        make_face()
    extrude(amount=BOSS_EXTRUDE2_DEPTH)


solid = part.part
